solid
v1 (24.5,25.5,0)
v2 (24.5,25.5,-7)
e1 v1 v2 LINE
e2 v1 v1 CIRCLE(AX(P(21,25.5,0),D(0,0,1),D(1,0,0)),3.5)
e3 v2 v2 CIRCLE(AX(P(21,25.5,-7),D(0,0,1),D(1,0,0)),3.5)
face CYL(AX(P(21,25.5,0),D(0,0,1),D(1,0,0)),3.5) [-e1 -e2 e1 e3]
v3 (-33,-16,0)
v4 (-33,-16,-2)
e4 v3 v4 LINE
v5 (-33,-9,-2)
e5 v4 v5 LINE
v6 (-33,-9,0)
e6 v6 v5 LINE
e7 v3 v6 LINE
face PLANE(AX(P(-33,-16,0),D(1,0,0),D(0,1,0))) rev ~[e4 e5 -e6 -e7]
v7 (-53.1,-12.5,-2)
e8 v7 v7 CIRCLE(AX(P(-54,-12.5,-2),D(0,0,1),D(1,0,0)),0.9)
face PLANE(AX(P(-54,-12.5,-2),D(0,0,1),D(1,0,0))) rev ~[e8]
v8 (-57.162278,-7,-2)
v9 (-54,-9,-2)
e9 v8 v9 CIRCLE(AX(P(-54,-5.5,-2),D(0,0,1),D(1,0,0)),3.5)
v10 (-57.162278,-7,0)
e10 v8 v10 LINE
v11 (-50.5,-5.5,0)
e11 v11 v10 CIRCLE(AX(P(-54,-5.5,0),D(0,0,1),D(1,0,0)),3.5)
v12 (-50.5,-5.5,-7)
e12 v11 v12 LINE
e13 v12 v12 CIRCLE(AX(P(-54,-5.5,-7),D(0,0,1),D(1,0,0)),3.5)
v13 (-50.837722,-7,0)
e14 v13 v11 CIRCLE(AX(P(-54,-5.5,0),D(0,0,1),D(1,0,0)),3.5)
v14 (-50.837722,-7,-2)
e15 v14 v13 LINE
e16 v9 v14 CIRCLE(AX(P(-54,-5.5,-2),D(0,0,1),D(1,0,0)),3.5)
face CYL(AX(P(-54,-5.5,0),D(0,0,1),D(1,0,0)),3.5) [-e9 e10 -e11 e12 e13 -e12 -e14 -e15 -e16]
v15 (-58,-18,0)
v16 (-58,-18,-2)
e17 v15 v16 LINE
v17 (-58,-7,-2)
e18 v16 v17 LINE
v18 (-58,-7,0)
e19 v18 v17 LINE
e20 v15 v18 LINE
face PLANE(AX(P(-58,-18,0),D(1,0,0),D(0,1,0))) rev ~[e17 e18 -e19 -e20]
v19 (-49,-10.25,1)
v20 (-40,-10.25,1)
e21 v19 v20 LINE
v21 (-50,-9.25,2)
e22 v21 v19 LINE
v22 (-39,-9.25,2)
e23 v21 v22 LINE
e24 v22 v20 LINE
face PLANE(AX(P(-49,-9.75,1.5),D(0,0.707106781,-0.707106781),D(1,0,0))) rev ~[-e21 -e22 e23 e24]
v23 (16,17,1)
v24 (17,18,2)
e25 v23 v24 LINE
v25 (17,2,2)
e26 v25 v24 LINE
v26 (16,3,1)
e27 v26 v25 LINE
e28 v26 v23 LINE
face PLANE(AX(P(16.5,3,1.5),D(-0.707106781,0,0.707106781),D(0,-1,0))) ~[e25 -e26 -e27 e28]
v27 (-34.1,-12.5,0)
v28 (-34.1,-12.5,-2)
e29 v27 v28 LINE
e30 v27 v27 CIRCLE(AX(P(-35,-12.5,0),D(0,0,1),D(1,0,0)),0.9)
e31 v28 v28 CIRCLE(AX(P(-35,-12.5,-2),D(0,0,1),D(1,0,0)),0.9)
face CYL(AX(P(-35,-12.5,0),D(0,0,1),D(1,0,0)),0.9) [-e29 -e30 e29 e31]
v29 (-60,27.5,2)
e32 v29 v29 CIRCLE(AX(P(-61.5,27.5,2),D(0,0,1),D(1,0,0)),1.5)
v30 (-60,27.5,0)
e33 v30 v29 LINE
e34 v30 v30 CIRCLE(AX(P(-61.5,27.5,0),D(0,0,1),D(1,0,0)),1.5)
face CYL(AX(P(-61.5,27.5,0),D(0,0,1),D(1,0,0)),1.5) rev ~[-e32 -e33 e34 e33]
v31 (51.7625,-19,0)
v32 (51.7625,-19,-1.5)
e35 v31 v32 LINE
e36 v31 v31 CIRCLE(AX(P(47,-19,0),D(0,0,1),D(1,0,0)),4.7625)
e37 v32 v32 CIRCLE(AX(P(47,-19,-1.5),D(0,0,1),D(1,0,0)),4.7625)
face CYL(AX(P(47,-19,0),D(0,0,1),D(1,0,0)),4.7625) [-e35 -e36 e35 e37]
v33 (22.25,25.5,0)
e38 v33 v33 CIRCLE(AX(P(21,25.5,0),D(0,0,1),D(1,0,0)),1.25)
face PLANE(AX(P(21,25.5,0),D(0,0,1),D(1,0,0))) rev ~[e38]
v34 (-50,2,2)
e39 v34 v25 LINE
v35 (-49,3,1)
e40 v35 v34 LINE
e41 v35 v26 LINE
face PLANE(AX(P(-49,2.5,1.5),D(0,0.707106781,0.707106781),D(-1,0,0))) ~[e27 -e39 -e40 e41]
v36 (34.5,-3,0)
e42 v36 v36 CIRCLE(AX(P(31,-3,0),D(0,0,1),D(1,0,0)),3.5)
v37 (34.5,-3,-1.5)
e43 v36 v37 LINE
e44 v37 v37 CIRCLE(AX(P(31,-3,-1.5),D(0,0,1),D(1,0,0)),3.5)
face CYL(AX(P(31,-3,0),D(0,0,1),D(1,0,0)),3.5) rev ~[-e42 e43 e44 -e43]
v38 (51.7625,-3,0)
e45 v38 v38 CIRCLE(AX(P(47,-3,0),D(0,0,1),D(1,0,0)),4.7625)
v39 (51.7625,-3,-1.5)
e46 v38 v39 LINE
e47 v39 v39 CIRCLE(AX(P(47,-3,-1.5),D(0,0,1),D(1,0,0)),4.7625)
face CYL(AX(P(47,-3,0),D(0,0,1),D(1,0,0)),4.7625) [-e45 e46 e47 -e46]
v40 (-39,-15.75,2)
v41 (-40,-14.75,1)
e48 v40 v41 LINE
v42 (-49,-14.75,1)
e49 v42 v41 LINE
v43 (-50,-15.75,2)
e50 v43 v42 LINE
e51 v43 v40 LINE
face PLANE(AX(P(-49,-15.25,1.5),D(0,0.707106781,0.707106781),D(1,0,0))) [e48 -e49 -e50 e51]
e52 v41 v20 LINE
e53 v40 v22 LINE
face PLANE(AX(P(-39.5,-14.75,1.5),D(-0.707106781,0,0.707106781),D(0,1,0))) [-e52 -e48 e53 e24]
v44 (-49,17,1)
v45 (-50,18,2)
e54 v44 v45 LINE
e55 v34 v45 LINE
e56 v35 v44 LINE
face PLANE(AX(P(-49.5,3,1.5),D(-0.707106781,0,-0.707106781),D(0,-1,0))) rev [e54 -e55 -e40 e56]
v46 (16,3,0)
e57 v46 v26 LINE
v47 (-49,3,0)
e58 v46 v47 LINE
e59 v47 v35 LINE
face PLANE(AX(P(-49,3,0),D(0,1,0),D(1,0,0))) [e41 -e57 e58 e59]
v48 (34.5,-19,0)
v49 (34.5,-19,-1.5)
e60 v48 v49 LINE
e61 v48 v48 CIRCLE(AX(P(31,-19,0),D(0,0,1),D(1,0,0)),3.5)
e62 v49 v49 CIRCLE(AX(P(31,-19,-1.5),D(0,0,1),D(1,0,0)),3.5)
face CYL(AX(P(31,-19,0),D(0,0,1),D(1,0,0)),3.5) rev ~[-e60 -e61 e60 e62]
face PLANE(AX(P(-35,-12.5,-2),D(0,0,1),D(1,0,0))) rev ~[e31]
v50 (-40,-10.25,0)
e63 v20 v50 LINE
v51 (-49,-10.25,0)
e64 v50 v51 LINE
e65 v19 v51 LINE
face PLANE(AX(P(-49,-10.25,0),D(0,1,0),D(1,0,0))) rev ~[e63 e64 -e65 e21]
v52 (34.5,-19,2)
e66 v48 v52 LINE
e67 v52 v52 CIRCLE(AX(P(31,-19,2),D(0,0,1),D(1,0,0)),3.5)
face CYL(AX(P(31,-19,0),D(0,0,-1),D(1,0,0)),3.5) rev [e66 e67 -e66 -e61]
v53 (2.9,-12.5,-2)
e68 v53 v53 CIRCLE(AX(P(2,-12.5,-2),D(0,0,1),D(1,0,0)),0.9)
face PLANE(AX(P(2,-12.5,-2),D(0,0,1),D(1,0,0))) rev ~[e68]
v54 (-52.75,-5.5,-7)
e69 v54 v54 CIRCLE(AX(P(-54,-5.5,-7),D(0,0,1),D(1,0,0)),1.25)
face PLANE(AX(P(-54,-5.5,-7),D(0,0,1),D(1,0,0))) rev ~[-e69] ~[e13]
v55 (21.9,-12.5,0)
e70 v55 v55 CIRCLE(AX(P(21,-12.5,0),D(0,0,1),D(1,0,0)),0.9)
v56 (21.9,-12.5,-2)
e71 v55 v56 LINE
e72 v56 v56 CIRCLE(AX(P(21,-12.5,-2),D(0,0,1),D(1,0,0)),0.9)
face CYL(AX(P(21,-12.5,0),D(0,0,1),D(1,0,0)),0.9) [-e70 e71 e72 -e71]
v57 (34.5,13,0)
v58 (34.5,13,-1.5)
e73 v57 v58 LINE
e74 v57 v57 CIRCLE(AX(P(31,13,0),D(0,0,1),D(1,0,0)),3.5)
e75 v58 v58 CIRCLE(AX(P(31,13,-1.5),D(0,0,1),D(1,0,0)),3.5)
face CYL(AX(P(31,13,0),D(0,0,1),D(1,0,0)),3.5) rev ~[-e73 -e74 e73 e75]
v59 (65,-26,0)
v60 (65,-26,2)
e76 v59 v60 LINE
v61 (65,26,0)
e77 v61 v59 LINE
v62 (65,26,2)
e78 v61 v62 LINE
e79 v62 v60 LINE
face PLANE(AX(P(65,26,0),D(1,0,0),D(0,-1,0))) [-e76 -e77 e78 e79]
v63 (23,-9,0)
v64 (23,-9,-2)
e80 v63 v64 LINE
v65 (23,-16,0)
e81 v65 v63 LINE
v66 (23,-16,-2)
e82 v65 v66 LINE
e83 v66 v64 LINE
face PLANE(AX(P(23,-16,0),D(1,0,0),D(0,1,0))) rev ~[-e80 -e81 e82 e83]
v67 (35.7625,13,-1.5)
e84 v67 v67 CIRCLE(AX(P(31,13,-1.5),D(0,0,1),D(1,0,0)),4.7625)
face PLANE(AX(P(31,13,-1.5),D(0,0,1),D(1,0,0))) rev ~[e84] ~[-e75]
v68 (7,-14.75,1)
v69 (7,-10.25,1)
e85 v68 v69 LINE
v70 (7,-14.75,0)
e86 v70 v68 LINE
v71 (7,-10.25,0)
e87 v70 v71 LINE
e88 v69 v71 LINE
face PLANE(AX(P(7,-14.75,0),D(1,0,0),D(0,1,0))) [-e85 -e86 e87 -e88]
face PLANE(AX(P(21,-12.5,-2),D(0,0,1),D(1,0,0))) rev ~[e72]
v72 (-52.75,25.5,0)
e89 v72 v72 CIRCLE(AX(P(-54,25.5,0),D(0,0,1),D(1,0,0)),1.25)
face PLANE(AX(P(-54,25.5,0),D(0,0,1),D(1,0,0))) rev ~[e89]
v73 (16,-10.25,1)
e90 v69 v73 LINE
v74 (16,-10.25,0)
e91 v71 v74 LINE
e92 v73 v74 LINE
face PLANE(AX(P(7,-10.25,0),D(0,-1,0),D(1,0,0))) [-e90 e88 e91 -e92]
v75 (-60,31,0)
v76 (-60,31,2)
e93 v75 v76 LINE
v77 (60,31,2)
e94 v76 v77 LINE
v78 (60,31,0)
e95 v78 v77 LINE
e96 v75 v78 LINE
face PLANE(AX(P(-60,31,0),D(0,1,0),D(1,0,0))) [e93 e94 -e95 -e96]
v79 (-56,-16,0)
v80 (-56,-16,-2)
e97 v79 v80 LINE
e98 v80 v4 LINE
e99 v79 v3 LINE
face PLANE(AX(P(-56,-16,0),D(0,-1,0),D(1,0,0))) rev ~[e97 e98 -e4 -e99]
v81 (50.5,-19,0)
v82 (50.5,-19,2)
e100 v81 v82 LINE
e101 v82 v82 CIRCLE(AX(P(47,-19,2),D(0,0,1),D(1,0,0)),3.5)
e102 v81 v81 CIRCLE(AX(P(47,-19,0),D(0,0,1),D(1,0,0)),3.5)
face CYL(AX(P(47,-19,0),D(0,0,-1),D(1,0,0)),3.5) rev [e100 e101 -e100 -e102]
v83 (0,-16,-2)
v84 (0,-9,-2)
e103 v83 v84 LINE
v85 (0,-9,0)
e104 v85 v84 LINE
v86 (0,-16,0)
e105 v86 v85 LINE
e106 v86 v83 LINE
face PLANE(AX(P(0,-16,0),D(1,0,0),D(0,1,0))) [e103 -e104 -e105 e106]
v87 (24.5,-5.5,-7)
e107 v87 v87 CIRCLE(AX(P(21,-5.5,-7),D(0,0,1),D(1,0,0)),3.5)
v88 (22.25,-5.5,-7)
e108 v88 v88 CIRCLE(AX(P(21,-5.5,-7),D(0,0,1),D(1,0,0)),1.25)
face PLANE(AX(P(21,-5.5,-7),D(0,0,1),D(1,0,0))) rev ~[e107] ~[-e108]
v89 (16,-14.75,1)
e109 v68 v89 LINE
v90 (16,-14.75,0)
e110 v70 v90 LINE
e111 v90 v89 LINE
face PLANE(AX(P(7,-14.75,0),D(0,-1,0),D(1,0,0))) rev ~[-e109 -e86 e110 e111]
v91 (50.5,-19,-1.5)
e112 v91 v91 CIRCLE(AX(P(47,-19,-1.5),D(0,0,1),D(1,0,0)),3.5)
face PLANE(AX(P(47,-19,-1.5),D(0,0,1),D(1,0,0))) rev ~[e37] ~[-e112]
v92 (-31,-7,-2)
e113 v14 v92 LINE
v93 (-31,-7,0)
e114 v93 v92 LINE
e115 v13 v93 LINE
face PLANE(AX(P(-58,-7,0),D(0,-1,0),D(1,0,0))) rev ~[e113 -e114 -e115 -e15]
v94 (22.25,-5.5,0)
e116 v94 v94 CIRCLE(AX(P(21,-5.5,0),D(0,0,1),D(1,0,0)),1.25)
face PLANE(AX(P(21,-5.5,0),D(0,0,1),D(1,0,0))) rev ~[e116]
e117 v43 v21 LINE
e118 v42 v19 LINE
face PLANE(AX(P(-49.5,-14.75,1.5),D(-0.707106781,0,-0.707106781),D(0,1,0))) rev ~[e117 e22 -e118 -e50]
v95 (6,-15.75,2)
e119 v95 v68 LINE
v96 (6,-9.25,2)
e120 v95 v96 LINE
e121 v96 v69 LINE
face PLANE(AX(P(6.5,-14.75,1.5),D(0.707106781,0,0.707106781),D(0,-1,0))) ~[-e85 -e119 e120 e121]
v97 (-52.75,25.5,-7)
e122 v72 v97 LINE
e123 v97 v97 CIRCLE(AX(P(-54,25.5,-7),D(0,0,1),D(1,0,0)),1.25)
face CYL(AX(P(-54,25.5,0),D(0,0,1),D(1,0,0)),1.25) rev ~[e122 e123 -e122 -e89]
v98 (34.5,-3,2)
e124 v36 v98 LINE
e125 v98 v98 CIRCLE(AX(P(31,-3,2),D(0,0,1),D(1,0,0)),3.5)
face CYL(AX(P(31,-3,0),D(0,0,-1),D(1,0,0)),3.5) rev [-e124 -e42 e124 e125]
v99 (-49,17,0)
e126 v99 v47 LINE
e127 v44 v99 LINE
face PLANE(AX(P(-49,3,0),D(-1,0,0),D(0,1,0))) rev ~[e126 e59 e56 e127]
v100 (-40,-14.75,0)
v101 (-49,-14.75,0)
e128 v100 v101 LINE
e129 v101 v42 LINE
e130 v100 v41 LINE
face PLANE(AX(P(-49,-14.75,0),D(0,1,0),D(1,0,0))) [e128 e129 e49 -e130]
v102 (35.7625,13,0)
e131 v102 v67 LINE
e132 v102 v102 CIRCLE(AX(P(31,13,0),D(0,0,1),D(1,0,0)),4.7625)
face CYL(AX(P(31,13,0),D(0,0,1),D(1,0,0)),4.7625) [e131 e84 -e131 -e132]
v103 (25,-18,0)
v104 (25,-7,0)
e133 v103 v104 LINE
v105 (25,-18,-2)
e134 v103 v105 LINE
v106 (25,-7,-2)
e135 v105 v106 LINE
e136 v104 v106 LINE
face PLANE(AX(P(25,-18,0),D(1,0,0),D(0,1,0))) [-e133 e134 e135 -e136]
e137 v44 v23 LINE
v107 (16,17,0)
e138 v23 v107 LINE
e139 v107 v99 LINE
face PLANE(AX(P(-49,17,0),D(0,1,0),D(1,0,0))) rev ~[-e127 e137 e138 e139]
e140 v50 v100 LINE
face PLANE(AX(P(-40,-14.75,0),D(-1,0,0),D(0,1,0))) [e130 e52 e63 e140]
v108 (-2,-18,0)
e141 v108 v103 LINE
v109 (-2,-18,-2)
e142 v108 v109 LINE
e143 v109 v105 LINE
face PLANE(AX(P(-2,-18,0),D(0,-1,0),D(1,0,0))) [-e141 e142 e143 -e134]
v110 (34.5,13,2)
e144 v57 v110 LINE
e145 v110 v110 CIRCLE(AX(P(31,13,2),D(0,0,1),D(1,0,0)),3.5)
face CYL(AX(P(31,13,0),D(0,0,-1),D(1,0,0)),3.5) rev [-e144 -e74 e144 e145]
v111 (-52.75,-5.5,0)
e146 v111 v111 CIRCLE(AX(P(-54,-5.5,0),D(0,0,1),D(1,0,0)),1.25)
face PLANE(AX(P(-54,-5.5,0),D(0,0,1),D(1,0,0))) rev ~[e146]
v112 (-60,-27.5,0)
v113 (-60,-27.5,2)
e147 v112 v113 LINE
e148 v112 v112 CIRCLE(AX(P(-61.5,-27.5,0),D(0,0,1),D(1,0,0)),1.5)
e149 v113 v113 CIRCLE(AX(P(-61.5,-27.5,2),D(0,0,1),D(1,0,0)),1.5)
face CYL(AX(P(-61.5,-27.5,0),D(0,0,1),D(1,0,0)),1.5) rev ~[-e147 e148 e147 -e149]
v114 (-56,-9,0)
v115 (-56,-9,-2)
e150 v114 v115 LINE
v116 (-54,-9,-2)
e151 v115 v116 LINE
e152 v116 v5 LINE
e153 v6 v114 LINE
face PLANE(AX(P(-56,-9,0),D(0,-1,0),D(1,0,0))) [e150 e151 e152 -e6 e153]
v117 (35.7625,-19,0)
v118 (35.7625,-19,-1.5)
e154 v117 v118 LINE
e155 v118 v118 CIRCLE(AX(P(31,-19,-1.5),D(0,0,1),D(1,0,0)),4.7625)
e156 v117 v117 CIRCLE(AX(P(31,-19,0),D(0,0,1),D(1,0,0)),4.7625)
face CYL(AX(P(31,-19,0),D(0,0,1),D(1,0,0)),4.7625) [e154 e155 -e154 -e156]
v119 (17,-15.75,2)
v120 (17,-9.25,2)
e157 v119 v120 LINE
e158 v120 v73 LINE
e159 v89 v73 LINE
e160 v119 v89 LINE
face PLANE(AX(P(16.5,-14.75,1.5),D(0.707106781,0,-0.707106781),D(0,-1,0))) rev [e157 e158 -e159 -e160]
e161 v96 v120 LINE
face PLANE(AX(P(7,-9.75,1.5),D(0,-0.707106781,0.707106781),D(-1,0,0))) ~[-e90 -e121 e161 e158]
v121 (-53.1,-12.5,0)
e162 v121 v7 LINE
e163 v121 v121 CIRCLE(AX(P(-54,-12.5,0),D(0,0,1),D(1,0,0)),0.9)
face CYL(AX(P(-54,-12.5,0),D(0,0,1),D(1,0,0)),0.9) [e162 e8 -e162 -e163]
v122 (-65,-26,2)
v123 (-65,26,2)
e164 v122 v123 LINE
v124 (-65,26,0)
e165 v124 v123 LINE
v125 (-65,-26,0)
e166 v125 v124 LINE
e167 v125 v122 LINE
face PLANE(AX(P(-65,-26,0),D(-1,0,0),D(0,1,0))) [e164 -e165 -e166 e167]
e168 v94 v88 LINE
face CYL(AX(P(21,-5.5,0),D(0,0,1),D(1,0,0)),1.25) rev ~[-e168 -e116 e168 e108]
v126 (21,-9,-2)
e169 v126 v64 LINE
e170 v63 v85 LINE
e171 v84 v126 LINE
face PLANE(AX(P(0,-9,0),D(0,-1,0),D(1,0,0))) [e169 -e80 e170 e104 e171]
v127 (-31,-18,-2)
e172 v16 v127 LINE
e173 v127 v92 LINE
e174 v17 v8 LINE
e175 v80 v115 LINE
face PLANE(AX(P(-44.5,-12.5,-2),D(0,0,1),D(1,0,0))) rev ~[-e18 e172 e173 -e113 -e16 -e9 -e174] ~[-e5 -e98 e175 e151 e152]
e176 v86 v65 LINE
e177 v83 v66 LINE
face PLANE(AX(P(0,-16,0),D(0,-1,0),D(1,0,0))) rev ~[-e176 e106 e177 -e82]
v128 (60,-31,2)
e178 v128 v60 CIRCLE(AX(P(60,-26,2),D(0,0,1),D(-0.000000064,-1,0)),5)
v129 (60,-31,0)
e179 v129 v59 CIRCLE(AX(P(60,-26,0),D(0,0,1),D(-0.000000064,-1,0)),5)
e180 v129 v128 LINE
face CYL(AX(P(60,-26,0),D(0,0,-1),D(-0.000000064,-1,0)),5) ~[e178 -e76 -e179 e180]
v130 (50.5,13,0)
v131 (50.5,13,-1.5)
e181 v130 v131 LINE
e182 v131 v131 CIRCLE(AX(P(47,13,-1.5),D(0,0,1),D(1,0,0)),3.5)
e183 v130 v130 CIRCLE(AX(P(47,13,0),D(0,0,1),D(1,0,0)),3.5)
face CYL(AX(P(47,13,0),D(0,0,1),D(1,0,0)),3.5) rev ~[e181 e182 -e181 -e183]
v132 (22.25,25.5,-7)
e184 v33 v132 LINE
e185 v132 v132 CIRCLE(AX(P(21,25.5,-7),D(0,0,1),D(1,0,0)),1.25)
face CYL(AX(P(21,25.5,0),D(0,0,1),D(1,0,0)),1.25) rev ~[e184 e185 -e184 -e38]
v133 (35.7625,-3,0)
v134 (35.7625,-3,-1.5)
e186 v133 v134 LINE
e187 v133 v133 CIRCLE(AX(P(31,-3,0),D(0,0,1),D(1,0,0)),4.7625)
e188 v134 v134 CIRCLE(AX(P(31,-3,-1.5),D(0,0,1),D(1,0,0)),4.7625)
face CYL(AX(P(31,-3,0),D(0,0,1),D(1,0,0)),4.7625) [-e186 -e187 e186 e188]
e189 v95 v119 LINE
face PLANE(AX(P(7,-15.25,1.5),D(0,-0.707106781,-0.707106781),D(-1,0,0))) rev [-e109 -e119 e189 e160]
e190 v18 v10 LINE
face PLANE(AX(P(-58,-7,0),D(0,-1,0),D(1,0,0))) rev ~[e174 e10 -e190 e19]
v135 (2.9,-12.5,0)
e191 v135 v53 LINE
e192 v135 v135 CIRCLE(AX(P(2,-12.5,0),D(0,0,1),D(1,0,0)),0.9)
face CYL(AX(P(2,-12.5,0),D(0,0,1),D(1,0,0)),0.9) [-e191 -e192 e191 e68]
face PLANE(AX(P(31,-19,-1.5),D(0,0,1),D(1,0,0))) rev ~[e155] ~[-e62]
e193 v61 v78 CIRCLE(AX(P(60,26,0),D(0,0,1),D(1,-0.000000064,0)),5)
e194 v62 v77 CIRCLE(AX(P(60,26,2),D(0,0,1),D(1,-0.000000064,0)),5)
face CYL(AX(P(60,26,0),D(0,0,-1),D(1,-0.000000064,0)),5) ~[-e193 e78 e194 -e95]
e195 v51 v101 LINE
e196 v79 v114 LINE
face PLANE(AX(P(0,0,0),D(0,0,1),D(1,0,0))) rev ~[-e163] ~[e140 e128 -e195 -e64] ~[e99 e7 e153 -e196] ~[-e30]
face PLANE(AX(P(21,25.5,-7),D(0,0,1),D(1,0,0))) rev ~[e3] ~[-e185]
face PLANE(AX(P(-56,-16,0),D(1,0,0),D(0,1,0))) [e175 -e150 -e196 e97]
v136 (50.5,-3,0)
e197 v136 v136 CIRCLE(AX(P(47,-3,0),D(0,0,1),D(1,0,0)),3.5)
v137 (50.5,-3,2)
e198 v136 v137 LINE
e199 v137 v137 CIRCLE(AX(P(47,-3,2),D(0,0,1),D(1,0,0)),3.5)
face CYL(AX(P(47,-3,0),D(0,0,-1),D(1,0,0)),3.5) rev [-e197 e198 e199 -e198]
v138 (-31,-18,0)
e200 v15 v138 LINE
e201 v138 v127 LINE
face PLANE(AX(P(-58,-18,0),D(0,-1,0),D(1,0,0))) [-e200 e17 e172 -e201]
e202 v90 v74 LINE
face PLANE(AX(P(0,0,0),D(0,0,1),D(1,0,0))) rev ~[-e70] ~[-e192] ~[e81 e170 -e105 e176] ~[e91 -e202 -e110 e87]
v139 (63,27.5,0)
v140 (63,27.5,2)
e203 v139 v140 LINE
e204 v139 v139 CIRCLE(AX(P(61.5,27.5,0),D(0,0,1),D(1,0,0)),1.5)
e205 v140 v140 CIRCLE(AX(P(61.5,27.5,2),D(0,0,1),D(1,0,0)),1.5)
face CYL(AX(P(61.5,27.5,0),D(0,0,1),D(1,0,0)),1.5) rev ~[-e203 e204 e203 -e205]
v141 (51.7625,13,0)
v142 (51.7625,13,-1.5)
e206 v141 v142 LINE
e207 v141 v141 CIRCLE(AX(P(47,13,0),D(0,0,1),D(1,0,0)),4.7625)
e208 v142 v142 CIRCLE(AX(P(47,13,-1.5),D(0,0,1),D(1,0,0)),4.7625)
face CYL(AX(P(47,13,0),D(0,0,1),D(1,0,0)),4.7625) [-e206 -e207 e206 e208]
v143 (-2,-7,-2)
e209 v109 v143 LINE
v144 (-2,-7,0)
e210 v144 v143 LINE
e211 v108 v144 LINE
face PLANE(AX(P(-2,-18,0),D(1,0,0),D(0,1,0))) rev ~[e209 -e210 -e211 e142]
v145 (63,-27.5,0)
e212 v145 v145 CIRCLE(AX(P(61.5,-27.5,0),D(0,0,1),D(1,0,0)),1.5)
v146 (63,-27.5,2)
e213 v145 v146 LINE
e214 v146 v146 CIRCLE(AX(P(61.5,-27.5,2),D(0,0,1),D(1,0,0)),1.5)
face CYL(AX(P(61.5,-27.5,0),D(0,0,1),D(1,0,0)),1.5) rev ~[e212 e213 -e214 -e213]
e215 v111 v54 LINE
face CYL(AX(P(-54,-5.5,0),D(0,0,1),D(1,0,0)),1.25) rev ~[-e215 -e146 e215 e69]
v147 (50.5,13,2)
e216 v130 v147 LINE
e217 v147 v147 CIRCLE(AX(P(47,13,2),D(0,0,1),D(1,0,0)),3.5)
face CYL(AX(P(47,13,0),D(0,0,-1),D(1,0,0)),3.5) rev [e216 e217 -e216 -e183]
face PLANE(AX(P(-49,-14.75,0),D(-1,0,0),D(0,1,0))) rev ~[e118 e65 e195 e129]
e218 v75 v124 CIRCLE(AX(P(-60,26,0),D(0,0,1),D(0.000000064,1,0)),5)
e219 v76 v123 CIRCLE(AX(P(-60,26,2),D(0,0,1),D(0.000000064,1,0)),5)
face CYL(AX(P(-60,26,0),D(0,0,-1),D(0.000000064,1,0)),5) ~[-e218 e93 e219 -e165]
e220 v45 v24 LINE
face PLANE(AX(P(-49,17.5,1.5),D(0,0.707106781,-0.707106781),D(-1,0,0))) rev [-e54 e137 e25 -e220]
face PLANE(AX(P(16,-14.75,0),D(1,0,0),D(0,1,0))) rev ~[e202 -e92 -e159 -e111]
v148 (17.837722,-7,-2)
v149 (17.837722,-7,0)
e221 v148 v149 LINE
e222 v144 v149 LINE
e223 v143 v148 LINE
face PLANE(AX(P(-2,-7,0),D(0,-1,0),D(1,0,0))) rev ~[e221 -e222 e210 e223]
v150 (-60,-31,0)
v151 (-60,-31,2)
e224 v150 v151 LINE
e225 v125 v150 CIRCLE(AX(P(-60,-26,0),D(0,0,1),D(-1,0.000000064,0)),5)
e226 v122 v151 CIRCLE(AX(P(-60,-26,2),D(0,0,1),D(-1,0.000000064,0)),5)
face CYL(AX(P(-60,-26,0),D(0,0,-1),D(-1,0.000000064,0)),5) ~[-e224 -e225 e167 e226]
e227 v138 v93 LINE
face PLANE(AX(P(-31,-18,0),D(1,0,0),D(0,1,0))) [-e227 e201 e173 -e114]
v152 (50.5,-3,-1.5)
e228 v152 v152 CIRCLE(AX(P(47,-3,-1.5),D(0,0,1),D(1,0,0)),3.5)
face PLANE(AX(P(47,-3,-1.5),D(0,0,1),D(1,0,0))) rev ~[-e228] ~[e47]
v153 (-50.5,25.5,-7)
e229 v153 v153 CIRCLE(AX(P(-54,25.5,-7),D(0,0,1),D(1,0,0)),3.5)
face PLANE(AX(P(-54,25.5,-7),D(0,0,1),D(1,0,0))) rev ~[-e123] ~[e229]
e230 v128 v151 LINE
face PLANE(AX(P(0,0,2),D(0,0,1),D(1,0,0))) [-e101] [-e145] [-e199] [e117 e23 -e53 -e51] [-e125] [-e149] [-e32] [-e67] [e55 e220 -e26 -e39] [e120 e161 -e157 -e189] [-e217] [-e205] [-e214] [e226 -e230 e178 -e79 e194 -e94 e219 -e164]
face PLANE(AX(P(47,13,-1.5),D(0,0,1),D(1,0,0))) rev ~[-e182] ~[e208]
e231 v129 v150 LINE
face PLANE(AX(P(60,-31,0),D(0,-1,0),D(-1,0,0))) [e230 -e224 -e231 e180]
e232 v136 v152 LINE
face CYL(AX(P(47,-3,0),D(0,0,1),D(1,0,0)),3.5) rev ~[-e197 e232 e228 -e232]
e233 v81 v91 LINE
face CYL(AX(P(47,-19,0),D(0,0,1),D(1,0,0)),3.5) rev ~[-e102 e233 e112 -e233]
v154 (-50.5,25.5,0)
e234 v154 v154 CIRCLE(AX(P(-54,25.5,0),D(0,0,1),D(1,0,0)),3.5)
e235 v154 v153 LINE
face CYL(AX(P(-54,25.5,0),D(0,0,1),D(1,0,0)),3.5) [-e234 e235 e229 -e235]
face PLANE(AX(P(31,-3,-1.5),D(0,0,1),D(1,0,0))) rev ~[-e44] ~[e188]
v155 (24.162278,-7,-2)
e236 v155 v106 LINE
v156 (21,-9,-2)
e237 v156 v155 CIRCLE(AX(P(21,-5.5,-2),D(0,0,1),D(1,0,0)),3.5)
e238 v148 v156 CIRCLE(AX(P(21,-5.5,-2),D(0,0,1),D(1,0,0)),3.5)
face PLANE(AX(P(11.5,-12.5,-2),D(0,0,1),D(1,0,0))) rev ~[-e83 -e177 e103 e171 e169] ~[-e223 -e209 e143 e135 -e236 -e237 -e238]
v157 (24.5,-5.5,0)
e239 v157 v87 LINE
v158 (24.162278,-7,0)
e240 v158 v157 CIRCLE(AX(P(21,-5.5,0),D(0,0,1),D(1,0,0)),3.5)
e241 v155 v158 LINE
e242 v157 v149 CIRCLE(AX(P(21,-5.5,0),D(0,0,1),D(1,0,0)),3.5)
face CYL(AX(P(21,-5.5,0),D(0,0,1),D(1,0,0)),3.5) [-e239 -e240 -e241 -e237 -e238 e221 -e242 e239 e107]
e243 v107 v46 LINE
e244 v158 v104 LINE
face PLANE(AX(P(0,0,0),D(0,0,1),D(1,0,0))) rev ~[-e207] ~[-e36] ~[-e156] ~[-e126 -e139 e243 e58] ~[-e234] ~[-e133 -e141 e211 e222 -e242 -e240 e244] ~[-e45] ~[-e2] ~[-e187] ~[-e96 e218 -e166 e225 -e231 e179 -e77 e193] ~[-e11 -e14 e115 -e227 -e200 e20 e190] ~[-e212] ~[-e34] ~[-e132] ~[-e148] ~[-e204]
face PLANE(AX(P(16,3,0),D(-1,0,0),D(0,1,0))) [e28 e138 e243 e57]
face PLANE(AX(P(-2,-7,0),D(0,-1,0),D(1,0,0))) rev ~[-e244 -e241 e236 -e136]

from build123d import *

# Parameters (mm, degrees)
SKETCH005_R           = 1.25
EXTRUDE004_DEPTH      = 8
SKETCH006_R           = 1.5
EXTRUDE005_DEPTH      = 2
EXTRUDE005_DEPTH_BACK = 1
SKETCH001_R           = 3.5
SKETCH001_W           = 65
SKETCH001_H           = 14
SKETCH001_W_2         = 9
SKETCH001_H_2         = 4.5
EXTRUDE003_DEPTH      = 2
SKETCH003_R           = 3.5
EXTRUDE001_DEPTH      = 7
SKETCH004_R           = 4.7625
EXTRUDE002_DEPTH      = 1.5
SKETCH007_W           = 27
SKETCH007_H           = 11
SKETCH007_W_2         = 23
SKETCH007_H_2         = 7
SKETCH007_R           = 0.9
EXTRUDE006_DEPTH      = 2
EXTRUDE_DEPTH         = 2
CHAMFER_SIZE          = 1


with BuildPart() as extrude004:
    # Sketch005 → Extrude004 (new body)
    with BuildSketch(Plane.XY):
        with Locations((-54, 25.5)):
            Circle(SKETCH005_R)
        with Locations((21, 25.5)):
            Circle(SKETCH005_R)
        with Locations((-54, -5.5)):
            Circle(SKETCH005_R)
        with Locations((21, -5.5)):
            Circle(SKETCH005_R)
    extrude(amount=-EXTRUDE004_DEPTH)


with BuildPart() as extrude005:
    # Sketch006 → Extrude005 (new body, two sides)
    with BuildSketch(Plane.XY) as extrude005_sk:
        with Locations((-61.5, 27.5)):
            Circle(SKETCH006_R)
        with Locations((61.5, 27.5)):
            Circle(SKETCH006_R)
        with Locations((-61.5, -27.5)):
            Circle(SKETCH006_R)
        with Locations((61.5, -27.5)):
            Circle(SKETCH006_R)
    extrude(amount=EXTRUDE005_DEPTH)
    extrude(extrude005_sk.sketch, amount=-EXTRUDE005_DEPTH_BACK)


with BuildPart() as fusion001:
    # Sketch001 → Extrude003 (new body, symmetric)
    with BuildSketch(Plane.XY):
        with Locations((31, 13)):
            Circle(SKETCH001_R)
        with Locations((47, 13)):
            Circle(SKETCH001_R)
        with Locations((31, -3)):
            Circle(SKETCH001_R)
        with Locations((47, -3)):
            Circle(SKETCH001_R)
        with Locations((31, -19)):
            Circle(SKETCH001_R)
        with Locations((47, -19)):
            Circle(SKETCH001_R)
        with Locations((-16.5, 10)):
            Rectangle(SKETCH001_W, SKETCH001_H)
        with Locations((-44.5, -12.5)):
            Rectangle(SKETCH001_W_2, SKETCH001_H_2)
        with Locations((11.5, -12.5)):
            Rectangle(SKETCH001_W_2, SKETCH001_H_2)
    extrude(amount=EXTRUDE003_DEPTH, both=True)

    # Fusion001: union Extrude004, Extrude005
    add(extrude004.part)
    add(extrude005.part)


with BuildPart() as extrude001:
    # Sketch003 → Extrude001 (new body)
    with BuildSketch(Plane.XY):
        with Locations((-54, 25.5)):
            Circle(SKETCH003_R)
        with Locations((21, 25.5)):
            Circle(SKETCH003_R)
        with Locations((-54, -5.5)):
            Circle(SKETCH003_R)
        with Locations((21, -5.5)):
            Circle(SKETCH003_R)
    extrude(amount=-EXTRUDE001_DEPTH)


with BuildPart() as extrude002:
    # Sketch004 → Extrude002 (new body)
    with BuildSketch(Plane.XY):
        with Locations((31, 13)):
            Circle(SKETCH004_R)
        with Locations((47, 13)):
            Circle(SKETCH004_R)
        with Locations((31, -3)):
            Circle(SKETCH004_R)
        with Locations((47, -3)):
            Circle(SKETCH004_R)
        with Locations((31, -19)):
            Circle(SKETCH004_R)
        with Locations((47, -19)):
            Circle(SKETCH004_R)
    extrude(amount=-EXTRUDE002_DEPTH)


with BuildPart() as extrude006:
    # Sketch007 → Extrude006 (new body)
    with BuildSketch(Plane.XY):
        with Locations((-44.5, -12.5)):
            Rectangle(SKETCH007_W, SKETCH007_H)
        with Locations((-44.5, -12.5)):
            Rectangle(SKETCH007_W_2, SKETCH007_H_2, mode=Mode.SUBTRACT)
        with Locations((11.5, -12.5)):
            Rectangle(SKETCH007_W, SKETCH007_H)
        with Locations((11.5, -12.5)):
            Rectangle(SKETCH007_W_2, SKETCH007_H_2, mode=Mode.SUBTRACT)
        with Locations((-54, -12.5)):
            Circle(SKETCH007_R)
        with Locations((-35, -12.5)):
            Circle(SKETCH007_R)
        with Locations((2, -12.5)):
            Circle(SKETCH007_R)
        with Locations((21, -12.5)):
            Circle(SKETCH007_R)
    extrude(amount=-EXTRUDE006_DEPTH)


with BuildPart() as chamfer_body:
    # Sketch → Extrude (new body)
    with BuildSketch(Plane.XY):
        with BuildLine():
            ThreePointArc((-60, 31), (-63.535534, 29.535534), (-65, 26))
            Line((-65, -26), (-65, 26))
            ThreePointArc((-65, -26), (-63.535534, -29.535534), (-60, -31))
            Line((60, -31), (-60, -31))
            ThreePointArc((60, -31), (63.535534, -29.535534), (65, -26))
            Line((65, 26), (65, -26))
            ThreePointArc((65, 26), (63.535534, 29.535534), (60, 31))
            Line((-60, 31), (60, 31))
        make_face()
    extrude(amount=EXTRUDE_DEPTH)

    # Fusion: union Extrude001, Extrude002, Extrude006
    add(extrude001.part)
    add(extrude002.part)
    add(extrude006.part)

    # Cut: cut Fusion001
    add(fusion001.part, mode=Mode.SUBTRACT)

    # Chamfer
    chamfer_edges = [chamfer_body.edges().sort_by_distance(p)[0] for p in [
        (-49, -12.5, 2),
        (-44.5, -14.75, 2),
        (-40, -12.5, 2),
        (-44.5, -10.25, 2),
        (7, -12.5, 2),
        (11.5, -14.75, 2),
        (16, -12.5, 2),
        (11.5, -10.25, 2),
        (-49, 10, 2),
        (-16.5, 3, 2),
        (16, 10, 2),
        (-16.5, 17, 2),
    ]]
    chamfer(chamfer_edges, length=CHAMFER_SIZE)


solid = chamfer_body.part
